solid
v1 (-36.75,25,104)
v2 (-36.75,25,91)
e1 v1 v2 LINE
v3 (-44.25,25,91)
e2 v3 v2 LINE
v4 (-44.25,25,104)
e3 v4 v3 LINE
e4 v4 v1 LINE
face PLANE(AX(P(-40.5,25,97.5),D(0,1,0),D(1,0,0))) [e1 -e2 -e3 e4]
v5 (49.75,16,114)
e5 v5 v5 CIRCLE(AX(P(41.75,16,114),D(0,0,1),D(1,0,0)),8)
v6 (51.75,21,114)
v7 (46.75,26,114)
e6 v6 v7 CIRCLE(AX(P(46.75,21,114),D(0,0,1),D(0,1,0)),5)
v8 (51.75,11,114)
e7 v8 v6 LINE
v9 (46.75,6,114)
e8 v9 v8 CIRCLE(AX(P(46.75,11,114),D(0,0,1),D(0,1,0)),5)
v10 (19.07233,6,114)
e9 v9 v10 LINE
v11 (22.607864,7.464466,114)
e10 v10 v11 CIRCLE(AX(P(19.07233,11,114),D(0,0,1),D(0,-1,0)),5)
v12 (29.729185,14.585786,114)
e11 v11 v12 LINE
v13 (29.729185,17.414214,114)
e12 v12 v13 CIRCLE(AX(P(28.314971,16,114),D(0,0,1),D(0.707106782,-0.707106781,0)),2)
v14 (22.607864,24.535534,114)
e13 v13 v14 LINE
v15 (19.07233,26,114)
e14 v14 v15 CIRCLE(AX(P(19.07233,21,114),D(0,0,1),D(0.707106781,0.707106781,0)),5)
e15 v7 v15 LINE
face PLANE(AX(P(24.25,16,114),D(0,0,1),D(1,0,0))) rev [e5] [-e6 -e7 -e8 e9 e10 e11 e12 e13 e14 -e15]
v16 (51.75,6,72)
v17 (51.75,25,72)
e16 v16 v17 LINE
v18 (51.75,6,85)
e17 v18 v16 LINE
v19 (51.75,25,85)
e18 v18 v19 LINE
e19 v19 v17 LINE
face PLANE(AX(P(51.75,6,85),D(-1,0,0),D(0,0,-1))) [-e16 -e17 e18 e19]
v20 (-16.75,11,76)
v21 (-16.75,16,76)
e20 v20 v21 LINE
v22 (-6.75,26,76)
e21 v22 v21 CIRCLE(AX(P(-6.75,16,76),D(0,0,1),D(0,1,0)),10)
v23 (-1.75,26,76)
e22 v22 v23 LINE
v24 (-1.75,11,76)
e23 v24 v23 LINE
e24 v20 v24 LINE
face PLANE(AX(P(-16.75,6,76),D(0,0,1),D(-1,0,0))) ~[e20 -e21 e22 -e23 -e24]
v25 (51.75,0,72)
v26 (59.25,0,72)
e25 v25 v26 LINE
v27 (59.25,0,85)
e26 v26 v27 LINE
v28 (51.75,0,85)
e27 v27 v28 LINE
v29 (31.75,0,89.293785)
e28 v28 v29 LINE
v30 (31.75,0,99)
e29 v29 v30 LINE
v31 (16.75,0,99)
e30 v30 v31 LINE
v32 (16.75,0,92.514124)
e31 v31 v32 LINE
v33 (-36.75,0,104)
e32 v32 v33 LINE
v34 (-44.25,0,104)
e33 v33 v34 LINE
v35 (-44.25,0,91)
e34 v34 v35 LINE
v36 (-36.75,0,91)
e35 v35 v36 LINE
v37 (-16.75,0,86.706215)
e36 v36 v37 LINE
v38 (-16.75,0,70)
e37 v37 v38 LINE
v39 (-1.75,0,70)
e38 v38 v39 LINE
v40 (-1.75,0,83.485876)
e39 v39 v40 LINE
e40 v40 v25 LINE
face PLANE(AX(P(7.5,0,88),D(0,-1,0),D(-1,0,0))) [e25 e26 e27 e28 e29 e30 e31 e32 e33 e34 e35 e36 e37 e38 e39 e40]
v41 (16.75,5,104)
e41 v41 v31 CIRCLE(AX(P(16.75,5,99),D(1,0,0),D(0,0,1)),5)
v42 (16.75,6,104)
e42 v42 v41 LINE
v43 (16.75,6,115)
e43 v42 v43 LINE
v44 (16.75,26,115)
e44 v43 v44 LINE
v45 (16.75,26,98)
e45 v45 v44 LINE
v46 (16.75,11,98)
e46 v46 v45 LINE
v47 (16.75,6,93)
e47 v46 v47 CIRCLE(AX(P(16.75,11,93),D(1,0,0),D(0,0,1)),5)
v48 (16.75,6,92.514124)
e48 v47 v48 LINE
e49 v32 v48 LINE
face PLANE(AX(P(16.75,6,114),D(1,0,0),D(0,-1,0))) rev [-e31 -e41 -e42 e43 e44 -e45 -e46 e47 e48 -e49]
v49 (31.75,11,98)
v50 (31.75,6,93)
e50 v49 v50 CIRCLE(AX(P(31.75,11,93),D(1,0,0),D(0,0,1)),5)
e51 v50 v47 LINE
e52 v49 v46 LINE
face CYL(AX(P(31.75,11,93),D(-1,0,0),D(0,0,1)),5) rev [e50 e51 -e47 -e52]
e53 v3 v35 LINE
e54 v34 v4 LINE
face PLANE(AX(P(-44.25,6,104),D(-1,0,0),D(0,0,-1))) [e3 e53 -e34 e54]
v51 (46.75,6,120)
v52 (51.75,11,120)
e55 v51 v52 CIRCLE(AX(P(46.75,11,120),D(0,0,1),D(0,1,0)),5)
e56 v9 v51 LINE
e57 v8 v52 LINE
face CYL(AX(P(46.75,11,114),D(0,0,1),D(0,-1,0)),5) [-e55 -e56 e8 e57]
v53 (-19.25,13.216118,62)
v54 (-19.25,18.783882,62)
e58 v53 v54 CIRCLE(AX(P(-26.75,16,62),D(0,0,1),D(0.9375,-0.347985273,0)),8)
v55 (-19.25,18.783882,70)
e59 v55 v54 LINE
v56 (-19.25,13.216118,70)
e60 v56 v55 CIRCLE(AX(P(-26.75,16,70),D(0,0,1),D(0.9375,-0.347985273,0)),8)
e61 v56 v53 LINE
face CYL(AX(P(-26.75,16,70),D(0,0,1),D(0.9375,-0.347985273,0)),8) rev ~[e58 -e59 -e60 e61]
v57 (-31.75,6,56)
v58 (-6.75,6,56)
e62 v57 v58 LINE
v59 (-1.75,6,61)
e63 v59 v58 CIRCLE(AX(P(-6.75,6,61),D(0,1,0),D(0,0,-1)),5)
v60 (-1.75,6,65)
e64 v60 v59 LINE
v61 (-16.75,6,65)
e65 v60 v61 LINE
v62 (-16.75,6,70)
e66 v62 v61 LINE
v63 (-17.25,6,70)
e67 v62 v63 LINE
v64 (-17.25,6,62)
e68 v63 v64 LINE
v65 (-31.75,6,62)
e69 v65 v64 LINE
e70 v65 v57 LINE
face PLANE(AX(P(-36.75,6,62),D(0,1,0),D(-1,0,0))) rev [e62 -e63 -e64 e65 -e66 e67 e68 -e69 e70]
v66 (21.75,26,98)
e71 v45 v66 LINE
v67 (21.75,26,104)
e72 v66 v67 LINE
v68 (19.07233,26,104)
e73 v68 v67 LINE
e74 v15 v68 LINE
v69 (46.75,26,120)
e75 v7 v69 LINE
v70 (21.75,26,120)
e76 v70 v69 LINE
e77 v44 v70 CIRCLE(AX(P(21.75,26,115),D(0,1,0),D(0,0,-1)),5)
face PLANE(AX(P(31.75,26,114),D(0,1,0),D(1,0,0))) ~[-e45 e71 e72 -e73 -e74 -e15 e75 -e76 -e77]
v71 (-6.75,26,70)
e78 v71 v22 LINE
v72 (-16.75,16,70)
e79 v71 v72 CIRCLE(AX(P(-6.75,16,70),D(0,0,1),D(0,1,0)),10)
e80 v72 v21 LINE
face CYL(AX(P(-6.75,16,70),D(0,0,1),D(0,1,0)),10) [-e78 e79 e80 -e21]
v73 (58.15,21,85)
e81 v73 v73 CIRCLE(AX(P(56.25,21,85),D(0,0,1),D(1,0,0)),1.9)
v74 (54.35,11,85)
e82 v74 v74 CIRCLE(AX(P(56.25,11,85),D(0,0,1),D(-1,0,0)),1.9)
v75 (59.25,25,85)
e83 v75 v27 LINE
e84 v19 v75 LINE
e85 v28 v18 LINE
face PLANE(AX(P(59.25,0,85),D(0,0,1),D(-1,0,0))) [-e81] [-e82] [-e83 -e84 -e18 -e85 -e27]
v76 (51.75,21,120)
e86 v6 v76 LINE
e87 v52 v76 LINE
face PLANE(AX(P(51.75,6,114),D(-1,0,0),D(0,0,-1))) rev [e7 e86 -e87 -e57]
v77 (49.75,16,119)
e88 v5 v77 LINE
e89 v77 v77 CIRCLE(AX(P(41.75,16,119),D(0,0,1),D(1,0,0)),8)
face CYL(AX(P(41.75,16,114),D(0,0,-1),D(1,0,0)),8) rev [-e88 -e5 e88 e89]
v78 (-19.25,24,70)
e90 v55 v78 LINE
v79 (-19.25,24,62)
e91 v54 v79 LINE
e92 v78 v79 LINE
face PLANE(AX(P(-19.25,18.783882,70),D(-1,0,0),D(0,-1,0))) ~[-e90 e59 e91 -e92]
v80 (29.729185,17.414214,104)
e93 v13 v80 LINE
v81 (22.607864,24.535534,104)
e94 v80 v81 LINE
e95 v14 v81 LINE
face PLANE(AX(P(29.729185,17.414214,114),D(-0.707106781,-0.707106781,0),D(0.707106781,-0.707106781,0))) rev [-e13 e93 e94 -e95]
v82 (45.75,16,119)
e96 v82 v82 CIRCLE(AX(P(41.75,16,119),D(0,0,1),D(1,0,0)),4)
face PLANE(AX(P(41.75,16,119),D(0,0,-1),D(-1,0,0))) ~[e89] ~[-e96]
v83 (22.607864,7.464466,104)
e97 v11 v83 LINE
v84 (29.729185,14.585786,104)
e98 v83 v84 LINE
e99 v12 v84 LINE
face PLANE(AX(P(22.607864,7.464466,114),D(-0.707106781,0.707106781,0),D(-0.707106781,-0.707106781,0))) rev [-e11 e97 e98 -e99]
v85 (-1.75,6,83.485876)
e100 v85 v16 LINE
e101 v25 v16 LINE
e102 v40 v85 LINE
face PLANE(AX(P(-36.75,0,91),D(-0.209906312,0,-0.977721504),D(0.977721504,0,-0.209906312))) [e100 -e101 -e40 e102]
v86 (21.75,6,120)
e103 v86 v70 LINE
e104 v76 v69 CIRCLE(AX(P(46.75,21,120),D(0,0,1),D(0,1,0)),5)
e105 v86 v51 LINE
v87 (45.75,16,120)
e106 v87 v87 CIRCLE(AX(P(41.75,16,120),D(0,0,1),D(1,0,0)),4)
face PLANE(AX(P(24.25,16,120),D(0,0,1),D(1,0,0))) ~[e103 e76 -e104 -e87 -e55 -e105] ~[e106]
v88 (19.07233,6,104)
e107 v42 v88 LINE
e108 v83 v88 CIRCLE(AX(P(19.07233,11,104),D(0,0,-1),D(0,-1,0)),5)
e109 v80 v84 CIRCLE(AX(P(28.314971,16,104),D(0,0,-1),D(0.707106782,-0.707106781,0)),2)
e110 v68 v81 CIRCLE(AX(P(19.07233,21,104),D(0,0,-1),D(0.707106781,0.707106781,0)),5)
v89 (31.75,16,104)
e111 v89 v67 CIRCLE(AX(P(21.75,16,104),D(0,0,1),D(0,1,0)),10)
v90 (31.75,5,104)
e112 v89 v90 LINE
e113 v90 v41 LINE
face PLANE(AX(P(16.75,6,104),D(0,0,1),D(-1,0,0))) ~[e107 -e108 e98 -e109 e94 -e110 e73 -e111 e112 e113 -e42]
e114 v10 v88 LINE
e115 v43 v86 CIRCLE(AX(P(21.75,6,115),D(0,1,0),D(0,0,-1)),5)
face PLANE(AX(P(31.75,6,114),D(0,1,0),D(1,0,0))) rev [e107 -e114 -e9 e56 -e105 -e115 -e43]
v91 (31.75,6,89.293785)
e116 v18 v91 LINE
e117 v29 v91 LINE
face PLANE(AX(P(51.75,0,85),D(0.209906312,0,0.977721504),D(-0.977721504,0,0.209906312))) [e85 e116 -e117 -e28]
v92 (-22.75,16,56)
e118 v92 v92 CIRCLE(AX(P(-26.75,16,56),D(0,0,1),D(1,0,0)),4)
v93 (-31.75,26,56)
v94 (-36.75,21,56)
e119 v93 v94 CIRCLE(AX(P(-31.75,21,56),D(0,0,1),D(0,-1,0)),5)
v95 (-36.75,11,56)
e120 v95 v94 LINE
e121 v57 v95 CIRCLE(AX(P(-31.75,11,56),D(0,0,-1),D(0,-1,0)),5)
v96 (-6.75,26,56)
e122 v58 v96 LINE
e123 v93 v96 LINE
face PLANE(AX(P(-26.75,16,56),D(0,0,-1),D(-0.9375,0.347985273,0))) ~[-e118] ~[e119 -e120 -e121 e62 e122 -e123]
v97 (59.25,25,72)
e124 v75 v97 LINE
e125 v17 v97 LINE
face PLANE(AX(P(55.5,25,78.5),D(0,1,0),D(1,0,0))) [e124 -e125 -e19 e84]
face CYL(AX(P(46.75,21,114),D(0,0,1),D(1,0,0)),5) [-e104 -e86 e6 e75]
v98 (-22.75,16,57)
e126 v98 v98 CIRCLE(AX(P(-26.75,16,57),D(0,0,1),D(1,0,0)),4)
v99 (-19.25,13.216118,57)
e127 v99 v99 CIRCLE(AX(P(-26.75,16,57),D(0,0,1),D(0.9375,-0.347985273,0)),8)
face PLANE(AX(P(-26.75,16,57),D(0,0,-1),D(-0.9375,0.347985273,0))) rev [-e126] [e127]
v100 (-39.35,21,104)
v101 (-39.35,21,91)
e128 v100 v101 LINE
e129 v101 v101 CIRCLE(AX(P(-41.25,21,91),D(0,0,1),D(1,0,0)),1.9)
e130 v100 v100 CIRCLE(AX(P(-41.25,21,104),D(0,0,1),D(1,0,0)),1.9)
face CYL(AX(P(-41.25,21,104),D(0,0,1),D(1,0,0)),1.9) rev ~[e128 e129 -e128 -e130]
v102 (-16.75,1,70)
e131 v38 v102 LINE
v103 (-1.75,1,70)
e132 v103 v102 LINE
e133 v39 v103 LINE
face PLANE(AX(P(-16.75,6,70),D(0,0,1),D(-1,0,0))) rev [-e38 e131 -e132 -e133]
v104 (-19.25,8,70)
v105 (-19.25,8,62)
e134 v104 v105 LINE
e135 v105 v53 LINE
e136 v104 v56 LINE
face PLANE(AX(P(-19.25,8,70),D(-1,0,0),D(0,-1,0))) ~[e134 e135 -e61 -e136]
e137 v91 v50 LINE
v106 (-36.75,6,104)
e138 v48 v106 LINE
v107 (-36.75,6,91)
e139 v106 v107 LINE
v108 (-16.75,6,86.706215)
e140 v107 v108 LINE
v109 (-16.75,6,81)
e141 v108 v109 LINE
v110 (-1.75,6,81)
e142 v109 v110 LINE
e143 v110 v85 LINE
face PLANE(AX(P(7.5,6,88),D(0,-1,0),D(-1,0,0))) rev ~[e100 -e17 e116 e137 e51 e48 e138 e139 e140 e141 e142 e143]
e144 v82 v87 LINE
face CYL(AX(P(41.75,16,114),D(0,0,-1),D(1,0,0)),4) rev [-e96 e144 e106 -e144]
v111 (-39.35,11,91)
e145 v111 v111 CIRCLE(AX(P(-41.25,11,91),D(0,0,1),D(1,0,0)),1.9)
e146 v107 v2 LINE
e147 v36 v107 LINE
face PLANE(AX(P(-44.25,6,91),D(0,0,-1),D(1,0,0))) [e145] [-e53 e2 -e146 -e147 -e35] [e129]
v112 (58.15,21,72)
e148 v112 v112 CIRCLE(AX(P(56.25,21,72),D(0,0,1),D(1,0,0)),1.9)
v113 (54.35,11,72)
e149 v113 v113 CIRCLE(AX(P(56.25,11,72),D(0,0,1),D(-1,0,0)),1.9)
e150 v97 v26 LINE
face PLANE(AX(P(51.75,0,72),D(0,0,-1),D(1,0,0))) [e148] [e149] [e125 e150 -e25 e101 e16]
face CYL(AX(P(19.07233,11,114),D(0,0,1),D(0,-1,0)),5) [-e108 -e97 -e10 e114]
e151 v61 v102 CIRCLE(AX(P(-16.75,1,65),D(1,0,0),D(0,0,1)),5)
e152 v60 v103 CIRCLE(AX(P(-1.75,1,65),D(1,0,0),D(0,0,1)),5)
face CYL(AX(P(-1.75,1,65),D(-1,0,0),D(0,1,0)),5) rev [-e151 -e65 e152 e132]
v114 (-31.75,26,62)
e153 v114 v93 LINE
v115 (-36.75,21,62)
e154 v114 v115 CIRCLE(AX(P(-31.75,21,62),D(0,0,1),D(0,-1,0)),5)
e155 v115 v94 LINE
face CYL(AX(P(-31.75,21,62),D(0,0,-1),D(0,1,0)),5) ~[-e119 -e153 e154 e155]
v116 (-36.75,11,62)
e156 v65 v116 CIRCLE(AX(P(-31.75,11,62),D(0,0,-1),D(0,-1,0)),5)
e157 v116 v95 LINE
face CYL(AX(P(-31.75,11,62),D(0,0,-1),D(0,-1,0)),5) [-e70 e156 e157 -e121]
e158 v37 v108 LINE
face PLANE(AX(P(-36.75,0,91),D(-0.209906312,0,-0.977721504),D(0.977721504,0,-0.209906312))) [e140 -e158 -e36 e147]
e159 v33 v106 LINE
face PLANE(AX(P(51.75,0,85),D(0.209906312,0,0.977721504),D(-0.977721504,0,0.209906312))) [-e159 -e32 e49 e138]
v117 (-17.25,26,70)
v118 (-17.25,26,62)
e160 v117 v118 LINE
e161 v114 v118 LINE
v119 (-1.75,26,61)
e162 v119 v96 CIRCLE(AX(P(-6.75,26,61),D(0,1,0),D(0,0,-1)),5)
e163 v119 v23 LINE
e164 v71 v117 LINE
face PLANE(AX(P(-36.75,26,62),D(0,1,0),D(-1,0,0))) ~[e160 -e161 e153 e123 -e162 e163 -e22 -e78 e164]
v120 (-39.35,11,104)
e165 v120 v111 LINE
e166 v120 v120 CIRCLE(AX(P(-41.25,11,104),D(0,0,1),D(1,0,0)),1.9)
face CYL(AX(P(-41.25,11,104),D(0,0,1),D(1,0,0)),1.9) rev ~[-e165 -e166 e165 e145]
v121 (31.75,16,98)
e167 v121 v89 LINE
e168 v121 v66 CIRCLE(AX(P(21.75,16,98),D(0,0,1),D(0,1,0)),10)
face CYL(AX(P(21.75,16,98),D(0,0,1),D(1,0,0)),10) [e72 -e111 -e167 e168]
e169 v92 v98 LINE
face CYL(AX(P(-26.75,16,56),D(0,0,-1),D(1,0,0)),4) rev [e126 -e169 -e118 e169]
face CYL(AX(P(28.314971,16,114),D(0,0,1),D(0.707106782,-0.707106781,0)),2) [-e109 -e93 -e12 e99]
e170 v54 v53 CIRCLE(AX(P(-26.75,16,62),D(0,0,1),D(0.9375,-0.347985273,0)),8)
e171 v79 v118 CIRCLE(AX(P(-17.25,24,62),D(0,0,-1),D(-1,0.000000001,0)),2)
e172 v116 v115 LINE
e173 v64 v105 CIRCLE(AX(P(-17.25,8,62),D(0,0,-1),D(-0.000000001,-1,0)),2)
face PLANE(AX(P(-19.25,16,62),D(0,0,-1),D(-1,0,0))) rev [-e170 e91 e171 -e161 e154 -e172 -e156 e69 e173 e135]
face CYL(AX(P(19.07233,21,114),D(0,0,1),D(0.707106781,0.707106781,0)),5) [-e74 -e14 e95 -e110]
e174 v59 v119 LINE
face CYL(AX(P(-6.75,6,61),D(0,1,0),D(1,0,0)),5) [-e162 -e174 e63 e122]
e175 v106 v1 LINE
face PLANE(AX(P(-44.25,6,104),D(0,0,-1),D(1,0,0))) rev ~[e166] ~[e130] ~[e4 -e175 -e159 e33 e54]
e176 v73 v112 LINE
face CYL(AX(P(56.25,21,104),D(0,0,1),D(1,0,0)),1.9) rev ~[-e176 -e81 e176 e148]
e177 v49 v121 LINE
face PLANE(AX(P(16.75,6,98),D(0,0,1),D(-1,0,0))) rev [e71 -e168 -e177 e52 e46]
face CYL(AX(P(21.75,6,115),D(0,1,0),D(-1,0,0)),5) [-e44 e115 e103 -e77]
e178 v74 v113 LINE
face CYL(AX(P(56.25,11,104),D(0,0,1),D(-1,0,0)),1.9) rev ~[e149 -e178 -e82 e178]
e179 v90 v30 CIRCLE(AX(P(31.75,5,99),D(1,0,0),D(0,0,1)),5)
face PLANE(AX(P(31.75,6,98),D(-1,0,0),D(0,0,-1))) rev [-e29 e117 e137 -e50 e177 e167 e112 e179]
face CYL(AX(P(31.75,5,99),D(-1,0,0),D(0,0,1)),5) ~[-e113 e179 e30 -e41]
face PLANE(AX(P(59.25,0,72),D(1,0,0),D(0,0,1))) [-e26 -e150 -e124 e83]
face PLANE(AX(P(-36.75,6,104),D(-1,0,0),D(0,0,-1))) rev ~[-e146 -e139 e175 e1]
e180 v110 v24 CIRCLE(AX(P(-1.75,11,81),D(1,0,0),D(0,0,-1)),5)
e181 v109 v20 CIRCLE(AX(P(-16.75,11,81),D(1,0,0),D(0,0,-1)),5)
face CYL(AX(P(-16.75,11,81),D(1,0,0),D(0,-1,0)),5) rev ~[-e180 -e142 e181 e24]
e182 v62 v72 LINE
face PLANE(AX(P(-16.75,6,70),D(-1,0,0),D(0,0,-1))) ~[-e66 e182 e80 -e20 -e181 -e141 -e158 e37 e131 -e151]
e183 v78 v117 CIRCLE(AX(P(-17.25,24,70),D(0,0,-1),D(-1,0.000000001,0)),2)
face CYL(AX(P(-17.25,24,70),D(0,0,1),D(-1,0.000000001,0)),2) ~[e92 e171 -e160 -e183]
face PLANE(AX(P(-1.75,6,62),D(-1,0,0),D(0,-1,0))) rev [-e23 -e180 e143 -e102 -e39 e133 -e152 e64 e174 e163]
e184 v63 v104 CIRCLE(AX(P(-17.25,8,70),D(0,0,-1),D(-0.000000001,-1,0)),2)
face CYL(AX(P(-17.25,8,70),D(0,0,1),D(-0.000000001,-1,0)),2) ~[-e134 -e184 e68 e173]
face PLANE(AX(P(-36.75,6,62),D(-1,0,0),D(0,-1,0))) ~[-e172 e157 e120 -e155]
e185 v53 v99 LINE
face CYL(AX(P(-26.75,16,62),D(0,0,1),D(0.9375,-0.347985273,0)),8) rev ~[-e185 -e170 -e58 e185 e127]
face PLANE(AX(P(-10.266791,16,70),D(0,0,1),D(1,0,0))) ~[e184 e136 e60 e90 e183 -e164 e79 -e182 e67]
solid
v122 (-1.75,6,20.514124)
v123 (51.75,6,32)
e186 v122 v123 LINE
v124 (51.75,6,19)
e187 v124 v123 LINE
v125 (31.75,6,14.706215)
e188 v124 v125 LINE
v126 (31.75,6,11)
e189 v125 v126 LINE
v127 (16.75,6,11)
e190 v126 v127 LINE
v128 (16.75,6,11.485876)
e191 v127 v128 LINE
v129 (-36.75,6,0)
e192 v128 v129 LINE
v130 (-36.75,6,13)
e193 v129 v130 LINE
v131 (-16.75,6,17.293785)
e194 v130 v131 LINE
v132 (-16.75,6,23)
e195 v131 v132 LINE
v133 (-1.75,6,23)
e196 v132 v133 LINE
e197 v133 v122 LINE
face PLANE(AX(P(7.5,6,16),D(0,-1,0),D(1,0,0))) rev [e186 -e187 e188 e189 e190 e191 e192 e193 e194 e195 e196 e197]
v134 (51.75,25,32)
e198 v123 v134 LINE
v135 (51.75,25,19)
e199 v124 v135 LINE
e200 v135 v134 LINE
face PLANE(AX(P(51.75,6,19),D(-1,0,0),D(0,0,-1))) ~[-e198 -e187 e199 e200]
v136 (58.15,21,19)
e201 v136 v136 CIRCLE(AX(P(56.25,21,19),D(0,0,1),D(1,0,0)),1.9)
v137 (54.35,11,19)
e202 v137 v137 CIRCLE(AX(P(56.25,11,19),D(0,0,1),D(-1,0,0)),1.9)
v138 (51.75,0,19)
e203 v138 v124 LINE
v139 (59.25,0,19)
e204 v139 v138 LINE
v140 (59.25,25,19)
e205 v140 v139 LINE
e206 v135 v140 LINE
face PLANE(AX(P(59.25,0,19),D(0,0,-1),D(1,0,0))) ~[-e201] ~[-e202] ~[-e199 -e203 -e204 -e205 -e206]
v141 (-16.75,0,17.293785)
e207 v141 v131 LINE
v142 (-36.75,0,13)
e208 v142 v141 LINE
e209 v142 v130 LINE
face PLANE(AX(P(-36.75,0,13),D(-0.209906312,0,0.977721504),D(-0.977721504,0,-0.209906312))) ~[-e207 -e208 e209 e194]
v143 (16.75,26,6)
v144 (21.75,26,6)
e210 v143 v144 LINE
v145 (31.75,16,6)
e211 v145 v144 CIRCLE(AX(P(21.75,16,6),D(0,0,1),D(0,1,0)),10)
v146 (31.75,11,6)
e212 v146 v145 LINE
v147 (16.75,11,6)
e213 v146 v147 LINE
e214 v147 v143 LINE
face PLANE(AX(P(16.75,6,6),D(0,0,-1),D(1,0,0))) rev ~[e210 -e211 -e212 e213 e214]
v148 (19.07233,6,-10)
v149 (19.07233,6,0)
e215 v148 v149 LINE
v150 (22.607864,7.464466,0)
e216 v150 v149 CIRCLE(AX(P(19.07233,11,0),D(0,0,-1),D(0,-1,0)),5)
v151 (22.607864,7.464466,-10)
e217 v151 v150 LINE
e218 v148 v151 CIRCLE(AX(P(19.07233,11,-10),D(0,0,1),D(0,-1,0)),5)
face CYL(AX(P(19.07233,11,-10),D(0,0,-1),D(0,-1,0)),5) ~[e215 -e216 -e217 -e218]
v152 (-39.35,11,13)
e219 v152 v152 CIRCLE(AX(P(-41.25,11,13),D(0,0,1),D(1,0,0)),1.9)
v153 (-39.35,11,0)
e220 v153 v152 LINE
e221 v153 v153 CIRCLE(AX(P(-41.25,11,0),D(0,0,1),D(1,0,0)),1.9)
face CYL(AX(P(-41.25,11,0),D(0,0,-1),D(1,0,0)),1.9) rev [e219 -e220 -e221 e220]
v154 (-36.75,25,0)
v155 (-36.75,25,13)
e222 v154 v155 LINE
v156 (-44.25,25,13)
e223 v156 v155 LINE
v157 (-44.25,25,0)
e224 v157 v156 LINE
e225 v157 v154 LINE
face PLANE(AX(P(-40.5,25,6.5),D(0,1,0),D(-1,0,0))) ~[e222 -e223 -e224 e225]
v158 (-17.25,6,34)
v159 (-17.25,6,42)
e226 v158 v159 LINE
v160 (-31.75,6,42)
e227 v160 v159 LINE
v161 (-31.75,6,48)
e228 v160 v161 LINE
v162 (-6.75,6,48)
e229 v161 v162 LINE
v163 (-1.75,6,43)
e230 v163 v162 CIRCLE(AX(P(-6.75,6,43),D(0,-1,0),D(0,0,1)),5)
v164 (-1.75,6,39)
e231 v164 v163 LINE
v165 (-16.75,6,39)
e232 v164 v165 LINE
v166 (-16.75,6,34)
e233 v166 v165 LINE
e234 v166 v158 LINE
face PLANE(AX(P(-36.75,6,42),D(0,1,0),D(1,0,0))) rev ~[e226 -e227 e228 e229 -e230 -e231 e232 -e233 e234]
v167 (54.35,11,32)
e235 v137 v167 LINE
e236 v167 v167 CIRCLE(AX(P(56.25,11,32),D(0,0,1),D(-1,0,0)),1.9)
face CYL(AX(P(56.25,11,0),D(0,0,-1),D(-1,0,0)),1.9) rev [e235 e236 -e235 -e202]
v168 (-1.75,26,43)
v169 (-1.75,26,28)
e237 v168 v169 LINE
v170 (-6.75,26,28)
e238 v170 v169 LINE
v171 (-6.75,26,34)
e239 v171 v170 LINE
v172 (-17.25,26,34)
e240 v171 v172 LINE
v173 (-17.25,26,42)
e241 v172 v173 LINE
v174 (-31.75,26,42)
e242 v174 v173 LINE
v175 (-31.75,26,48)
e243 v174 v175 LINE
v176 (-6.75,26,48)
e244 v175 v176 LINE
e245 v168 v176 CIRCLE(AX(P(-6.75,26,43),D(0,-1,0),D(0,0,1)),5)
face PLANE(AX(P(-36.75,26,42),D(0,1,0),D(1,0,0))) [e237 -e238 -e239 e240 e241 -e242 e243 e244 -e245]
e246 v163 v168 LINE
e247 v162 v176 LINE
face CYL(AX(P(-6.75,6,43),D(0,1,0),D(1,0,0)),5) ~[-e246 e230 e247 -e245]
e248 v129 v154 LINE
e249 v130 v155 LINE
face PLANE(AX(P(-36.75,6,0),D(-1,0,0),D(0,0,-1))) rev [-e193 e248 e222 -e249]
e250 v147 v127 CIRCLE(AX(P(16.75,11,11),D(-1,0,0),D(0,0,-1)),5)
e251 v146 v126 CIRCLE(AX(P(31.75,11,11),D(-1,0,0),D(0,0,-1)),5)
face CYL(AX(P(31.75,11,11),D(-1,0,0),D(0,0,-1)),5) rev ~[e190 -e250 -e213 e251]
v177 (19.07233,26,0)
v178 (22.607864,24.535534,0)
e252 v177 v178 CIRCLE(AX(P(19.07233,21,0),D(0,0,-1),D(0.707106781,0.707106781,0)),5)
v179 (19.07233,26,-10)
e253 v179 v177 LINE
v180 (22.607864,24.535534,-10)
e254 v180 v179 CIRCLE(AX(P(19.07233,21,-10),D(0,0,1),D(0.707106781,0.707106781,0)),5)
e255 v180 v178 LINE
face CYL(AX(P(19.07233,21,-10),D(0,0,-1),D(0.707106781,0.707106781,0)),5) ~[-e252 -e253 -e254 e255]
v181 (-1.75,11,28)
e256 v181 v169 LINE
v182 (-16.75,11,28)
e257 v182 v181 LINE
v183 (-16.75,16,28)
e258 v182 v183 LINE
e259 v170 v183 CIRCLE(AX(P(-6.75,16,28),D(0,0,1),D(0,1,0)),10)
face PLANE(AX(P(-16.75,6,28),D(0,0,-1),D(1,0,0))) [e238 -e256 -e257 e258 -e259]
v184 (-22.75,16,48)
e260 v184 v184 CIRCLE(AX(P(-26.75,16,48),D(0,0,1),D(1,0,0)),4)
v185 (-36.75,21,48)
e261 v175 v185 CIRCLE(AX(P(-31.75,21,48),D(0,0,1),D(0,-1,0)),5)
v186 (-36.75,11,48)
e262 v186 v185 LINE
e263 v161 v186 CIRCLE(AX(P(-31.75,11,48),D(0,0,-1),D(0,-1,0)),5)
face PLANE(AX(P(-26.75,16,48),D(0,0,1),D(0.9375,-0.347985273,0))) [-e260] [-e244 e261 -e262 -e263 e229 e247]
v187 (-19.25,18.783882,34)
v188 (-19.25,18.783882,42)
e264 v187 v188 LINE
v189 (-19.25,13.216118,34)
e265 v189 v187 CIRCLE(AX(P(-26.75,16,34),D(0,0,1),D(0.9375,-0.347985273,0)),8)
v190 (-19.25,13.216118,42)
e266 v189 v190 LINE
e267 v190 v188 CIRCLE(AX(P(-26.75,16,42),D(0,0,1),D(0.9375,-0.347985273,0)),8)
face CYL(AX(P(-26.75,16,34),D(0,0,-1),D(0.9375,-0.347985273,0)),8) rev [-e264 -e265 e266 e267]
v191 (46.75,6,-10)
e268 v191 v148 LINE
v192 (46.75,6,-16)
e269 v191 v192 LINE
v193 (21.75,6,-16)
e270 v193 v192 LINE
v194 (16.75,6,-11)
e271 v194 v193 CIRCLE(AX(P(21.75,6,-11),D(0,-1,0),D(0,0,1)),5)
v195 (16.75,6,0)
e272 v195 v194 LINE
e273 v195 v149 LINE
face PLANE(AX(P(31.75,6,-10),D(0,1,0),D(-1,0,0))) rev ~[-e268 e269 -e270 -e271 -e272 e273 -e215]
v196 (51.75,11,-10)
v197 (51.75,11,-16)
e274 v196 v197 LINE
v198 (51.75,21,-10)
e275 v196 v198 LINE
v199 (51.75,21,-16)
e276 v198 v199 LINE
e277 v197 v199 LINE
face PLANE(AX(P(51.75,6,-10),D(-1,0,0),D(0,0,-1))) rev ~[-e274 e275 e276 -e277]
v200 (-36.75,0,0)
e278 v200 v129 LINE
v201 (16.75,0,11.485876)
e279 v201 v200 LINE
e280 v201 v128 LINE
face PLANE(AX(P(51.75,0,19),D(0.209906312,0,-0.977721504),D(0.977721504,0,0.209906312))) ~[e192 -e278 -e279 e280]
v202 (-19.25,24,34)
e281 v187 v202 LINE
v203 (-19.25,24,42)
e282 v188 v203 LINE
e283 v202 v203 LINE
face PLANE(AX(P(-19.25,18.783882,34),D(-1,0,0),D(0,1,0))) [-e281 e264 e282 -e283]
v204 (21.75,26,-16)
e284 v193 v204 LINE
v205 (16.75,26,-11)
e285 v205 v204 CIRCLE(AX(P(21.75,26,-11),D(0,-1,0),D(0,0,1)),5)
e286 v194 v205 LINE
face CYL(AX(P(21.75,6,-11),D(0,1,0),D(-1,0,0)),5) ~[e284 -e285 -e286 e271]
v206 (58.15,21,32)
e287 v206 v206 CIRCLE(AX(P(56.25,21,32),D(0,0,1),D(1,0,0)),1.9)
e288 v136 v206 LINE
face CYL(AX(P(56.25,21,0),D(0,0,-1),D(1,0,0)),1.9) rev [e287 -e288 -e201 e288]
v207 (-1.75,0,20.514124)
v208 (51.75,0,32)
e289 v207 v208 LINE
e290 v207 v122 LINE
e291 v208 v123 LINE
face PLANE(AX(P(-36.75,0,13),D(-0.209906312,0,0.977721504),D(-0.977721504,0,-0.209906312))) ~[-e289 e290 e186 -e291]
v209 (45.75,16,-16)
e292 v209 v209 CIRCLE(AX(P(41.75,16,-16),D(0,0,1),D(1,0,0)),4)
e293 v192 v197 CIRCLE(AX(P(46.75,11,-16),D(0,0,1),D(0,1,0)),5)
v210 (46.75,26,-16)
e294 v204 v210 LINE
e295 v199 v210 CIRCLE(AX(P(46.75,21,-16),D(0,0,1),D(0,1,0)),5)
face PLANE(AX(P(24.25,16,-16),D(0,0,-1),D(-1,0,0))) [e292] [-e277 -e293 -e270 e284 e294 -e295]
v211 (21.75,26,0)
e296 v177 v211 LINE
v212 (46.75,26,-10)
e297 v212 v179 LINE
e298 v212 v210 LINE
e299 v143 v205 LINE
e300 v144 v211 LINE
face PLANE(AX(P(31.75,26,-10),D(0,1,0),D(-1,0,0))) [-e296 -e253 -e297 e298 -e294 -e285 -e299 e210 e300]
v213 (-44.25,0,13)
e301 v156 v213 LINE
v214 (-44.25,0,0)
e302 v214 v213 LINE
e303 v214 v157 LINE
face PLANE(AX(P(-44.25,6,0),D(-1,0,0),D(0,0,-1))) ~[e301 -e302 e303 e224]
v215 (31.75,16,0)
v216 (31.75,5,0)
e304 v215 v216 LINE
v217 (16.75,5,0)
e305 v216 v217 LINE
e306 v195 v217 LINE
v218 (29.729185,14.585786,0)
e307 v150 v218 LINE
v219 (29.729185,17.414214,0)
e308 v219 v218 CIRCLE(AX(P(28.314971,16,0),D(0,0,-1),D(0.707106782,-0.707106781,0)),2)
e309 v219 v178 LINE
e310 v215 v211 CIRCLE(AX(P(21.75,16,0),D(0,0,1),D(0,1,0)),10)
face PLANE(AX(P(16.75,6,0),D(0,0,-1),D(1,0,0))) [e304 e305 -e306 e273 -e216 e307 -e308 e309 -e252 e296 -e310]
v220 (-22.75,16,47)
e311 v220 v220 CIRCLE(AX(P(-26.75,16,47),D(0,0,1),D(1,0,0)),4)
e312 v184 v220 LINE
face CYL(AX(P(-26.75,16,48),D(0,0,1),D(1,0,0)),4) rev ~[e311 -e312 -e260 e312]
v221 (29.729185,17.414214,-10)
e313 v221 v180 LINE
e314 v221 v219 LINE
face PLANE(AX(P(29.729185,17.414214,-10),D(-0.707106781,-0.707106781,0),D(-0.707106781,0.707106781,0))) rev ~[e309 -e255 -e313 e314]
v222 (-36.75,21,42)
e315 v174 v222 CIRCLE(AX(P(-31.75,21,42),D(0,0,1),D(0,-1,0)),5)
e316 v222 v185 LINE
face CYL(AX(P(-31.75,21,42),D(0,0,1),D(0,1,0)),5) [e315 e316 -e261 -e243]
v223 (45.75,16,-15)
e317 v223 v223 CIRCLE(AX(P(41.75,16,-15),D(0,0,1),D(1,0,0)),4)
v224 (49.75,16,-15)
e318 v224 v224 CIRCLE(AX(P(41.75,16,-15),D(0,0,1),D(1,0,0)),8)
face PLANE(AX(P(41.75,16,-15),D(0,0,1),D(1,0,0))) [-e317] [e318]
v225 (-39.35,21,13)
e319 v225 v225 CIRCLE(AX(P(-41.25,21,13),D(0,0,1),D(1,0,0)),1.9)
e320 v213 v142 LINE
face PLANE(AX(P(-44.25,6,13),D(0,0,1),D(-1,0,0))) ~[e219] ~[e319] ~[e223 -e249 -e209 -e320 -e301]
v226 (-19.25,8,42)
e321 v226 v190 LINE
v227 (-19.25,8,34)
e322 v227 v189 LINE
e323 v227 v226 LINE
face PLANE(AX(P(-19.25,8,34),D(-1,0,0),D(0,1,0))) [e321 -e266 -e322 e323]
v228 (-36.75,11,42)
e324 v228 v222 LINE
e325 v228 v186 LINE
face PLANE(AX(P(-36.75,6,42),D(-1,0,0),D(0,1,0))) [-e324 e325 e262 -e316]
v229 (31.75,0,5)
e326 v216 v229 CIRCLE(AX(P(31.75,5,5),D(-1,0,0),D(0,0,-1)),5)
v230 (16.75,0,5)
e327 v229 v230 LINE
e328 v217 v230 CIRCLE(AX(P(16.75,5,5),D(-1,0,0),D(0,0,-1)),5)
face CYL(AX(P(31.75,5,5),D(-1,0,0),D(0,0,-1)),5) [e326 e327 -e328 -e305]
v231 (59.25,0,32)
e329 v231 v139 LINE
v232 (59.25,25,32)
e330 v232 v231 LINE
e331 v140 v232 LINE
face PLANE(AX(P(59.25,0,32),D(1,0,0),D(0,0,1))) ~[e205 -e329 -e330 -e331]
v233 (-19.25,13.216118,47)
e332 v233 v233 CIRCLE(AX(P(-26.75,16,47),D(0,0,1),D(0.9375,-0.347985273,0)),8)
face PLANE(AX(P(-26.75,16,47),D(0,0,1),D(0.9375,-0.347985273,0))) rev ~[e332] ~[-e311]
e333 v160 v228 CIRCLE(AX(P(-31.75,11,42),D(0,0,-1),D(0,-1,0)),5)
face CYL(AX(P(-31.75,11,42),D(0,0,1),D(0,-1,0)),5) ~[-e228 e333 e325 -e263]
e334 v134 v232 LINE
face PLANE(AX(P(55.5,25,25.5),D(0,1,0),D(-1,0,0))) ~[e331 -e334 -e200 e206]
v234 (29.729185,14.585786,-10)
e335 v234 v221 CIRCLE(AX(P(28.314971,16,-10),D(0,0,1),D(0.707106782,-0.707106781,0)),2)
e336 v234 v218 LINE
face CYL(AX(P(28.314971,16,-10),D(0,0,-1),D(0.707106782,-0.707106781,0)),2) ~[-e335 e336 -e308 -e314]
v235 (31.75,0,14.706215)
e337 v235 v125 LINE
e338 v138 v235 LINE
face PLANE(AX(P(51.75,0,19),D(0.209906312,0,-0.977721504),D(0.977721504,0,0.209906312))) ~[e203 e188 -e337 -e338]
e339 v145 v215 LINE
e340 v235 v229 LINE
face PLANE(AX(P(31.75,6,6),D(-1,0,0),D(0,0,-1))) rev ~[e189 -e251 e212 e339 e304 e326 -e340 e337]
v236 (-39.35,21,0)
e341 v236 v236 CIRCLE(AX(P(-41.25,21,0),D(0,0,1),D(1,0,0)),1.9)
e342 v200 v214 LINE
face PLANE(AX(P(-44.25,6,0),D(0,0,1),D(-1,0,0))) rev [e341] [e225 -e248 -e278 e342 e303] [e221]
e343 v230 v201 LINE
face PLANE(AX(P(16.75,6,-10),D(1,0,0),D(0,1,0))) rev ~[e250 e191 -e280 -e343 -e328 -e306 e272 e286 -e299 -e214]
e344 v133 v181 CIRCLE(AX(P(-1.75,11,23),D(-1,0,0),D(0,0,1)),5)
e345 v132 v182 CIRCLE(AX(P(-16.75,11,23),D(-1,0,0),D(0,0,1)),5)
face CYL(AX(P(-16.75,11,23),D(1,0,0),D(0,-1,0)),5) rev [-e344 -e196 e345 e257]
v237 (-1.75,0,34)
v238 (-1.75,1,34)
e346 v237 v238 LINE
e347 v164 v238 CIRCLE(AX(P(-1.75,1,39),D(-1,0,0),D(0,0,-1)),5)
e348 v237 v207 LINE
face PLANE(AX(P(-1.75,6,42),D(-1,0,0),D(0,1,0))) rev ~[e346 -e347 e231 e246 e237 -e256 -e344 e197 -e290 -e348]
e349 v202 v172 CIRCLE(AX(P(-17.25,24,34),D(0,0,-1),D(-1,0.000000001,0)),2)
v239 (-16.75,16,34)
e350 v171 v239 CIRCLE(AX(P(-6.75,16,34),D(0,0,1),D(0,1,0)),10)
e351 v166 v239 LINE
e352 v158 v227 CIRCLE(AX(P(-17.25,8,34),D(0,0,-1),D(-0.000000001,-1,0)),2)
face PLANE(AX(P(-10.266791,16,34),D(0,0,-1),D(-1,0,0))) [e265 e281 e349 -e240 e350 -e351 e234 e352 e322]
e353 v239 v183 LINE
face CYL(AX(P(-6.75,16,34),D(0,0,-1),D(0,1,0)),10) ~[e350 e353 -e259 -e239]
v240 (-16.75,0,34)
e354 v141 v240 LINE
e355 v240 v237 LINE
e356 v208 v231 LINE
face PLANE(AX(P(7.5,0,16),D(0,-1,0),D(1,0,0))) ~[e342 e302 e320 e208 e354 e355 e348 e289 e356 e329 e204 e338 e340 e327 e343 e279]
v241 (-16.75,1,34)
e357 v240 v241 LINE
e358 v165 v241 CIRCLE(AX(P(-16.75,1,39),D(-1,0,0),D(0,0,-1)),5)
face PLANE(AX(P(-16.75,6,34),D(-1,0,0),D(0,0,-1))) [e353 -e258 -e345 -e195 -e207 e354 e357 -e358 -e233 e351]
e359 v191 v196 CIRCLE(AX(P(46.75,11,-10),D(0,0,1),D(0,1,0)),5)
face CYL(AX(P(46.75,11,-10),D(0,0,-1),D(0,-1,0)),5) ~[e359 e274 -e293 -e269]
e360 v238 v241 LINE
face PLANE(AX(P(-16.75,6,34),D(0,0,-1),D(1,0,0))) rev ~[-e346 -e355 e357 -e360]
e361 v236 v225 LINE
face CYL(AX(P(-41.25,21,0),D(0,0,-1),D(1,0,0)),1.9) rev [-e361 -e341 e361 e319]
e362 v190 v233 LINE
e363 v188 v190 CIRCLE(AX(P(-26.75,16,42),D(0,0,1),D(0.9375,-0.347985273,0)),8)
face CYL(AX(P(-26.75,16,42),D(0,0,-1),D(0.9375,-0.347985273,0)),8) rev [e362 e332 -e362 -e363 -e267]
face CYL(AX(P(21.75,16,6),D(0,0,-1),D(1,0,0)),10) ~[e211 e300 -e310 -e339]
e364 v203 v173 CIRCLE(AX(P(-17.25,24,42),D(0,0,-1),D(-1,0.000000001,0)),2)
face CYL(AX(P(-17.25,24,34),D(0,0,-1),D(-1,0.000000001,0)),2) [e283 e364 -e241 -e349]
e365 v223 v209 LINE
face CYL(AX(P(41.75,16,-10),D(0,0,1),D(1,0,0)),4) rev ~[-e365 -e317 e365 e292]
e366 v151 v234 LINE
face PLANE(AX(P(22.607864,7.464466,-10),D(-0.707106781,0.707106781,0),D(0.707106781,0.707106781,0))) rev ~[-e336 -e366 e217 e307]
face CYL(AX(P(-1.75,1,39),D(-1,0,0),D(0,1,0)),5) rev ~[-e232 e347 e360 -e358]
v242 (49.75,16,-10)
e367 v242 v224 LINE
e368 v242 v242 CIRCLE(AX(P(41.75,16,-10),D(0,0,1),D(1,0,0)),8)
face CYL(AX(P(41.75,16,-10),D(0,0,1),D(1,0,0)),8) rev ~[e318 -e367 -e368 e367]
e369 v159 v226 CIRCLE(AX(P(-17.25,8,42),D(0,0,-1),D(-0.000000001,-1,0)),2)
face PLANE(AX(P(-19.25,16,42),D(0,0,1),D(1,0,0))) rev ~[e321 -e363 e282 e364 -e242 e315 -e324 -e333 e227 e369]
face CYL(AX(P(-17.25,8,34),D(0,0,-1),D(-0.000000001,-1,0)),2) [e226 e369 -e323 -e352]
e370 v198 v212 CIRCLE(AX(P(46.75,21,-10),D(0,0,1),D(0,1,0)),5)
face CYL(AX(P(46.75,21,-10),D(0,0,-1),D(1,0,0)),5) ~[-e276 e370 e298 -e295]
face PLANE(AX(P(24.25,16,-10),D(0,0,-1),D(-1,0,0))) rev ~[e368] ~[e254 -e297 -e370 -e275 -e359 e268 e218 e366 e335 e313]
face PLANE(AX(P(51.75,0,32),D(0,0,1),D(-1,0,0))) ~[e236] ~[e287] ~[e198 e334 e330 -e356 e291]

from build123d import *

# Parameters (mm, degrees)
BOSS_EXTRUDE1_DEPTH  = 6
SKETCH3_W            = 7.5
SKETCH3_H            = 13
BOSS_EXTRUDE2_DEPTH  = 19
SKETCH4_R            = 1.9
CUT_EXTRUDE1_DEPTH   = 72.830094668
BOSS_EXTRUDE3_DEPTH  = 6
SKETCH7_W            = 15
SKETCH7_H            = 6
BOSS_EXTRUDE4_DEPTH  = 20
SKETCH9_W            = 20
SKETCH9_H            = 6
BOSS_EXTRUDE5_DEPTH  = 20
SKETCH10_R           = 8
SKETCH10_R_2         = 4
CUT_EXTRUDE2_DEPTH   = 5
SKETCH10_2_R         = 4
CUT_EXTRUDE3_DEPTH   = 15
BOSS_EXTRUDE6_DEPTH  = 16
SKETCH12_W           = 15
SKETCH12_H           = 20
BOSS_EXTRUDE7_DEPTH  = 6
BOSS_EXTRUDE8_DEPTH  = 6
SKETCH14_W           = 15
SKETCH14_H           = 6
BOSS_EXTRUDE9_DEPTH  = 20
BOSS_EXTRUDE10_DEPTH = 8
SKETCH16_W           = 35
SKETCH16_H           = 20
SKETCH16_R           = 8
BOSS_EXTRUDE11_DEPTH = 6
SKETCH18_R           = 8
SKETCH18_R_2         = 4
BOSS_EXTRUDE12_DEPTH = 1
FILLET1_R            = 10
FILLET2_R            = 5


with BuildPart() as part:
    # Sketch2 → Boss-Extrude1 (new body)
    with BuildSketch(Plane(origin=(0, 0, 0), x_dir=(1, 0, 0), z_dir=(0, 1, 0))):
        Polygon((-36.75, 13), (51.75, 32), (59.25, 32), (59.25, 19), (51.75, 19), (-36.75, 0), (-44.25, 0), (-44.25, 13), align=None)
    extrude(amount=BOSS_EXTRUDE1_DEPTH)

    # Sketch3 → Boss-Extrude2 (add)
    with BuildSketch(Plane(origin=(0, 6, 0), x_dir=(1, 0, 0), z_dir=(0, 1, 0))):
        with Locations((-40.5, 6.5)):
            Rectangle(SKETCH3_W, SKETCH3_H)
        with Locations((55.5, 25.5)):
            Rectangle(SKETCH3_W, SKETCH3_H)
    extrude(amount=BOSS_EXTRUDE2_DEPTH)

    # Sketch4 → Cut-Extrude1 (cut, through all)
    with BuildSketch(Plane.XY):
        with Locations((-41.25, 21)):
            Circle(SKETCH4_R)
        with Locations((-41.25, 11)):
            Circle(SKETCH4_R)
        with Locations((56.25, 21)):
            Circle(SKETCH4_R)
        with Locations(Location((56.25, 11, 0), (0, 0, 180))):
            Circle(SKETCH4_R)
    extrude(amount=-CUT_EXTRUDE1_DEPTH, mode=Mode.SUBTRACT)


with BuildPart() as body_2:
    # Mirror1: mirrored copy
    add(part.part.mirror(Plane.XY))

    # Sketch5 → Boss-Extrude3 (add)
    with BuildSketch(Plane(origin=(0, 0, 0), x_dir=(1, 0, 0), z_dir=(0, 1, 0))):
        Polygon((16.75, -11.485875706), (31.75, -14.706214689), (31.75, 0), (16.75, 0), align=None)
    extrude(amount=BOSS_EXTRUDE3_DEPTH)

    # Sketch7 → Boss-Extrude4 (add)
    with BuildSketch(Plane(origin=(0, 6, 0), x_dir=(1, 0, 0), z_dir=(0, 1, 0))):
        with Locations((24.25, -3)):
            Rectangle(SKETCH7_W, SKETCH7_H)
    extrude(amount=BOSS_EXTRUDE4_DEPTH)

    # Sketch11 → Boss-Extrude6 (add)
    with BuildSketch(Plane.XY.offset(-10)):
        with BuildLine():
            Line((22.607864376, 7.464466094), (29.72918472, 14.585786438))
            ThreePointArc((29.72918472, 14.585786438), (30.314971157, 16), (29.72918472, 17.414213562))
            Line((29.72918472, 17.414213562), (22.607864376, 24.535533906))
            ThreePointArc((22.607864376, 24.535533906), (20.985747632, 25.619397663), (19.07233047, 26))
            Line((19.07233047, 26), (16.75, 26))
            Line((16.75, 26), (16.75, 6))
            Line((16.75, 6), (19.07233047, 6))
            ThreePointArc((19.07233047, 6), (20.985747632, 6.380602337), (22.607864376, 7.464466094))
        make_face()
    extrude(amount=BOSS_EXTRUDE6_DEPTH)



with BuildPart() as body_2_2:
    # Sketch9 → Boss-Extrude5 (new body)
    with BuildSketch(Plane(origin=(0, 6, 0), x_dir=(1, 0, 0), z_dir=(0, 1, 0))):
        with Locations((41.75, 13)):
            Rectangle(SKETCH9_W, SKETCH9_H)
    extrude(amount=BOSS_EXTRUDE5_DEPTH)

    # Sketch10 → Cut-Extrude2 (cut)
    with BuildSketch(Plane.XY.offset(-10)):
        with Locations((41.75, 16)):
            Circle(SKETCH10_R)
        with Locations((41.75, 16)):
            Circle(SKETCH10_R_2, mode=Mode.SUBTRACT)
    extrude(amount=-CUT_EXTRUDE2_DEPTH, mode=Mode.SUBTRACT)

    # Sketch10<2> → Cut-Extrude3 (cut)
    with BuildSketch(Plane.XY.offset(-10)):
        with Locations((41.75, 16)):
            Circle(SKETCH10_2_R)
    extrude(amount=-CUT_EXTRUDE3_DEPTH, mode=Mode.SUBTRACT)


with BuildPart() as body_2_1:
    add(body_2.part)

    add(body_2_2.part)  # Boss-Extrude7 merges body 2 2
    # Sketch12 → Boss-Extrude7 (add)
    with BuildSketch(Plane(origin=(0, 0, -10), x_dir=(-1, 0, 0), z_dir=(0, 0, -1))):
        with Locations((-24.25, 16)):
            Rectangle(SKETCH12_W, SKETCH12_H)
    extrude(amount=BOSS_EXTRUDE7_DEPTH)

    # Sketch13 → Boss-Extrude8 (add)
    with BuildSketch(Plane(origin=(0, 0, 0), x_dir=(1, 0, 0), z_dir=(0, 1, 0))):
        Polygon((-1.75, -20.514124294), (-16.75, -17.293785311), (-16.75, -34), (-1.75, -34), align=None)
    extrude(amount=BOSS_EXTRUDE8_DEPTH)

    # Sketch14 → Boss-Extrude9 (add)
    with BuildSketch(Plane(origin=(0, 6, 0), x_dir=(1, 0, 0), z_dir=(0, 1, 0))):
        with Locations((-9.25, -31)):
            Rectangle(SKETCH14_W, SKETCH14_H)
    extrude(amount=BOSS_EXTRUDE9_DEPTH)

    # Sketch15 → Boss-Extrude10 (add)
    with BuildSketch(Plane.XY.offset(34)):
        with BuildLine():
            Line((-19.25, 8), (-19.25, 13.216117819))
            ThreePointArc((-19.25, 13.216117819), (-18.75, 16), (-19.25, 18.783882181))
            Line((-19.25, 18.783882181), (-19.25, 24))
            ThreePointArc((-19.25, 24), (-18.664213562, 25.414213562), (-17.25, 26))
            Line((-17.25, 26), (-1.75, 26))
            Line((-1.75, 26), (-1.75, 6))
            Line((-1.75, 6), (-17.25, 6))
            ThreePointArc((-17.25, 6), (-18.664213562, 6.585786438), (-19.25, 8))
        make_face()
    extrude(amount=BOSS_EXTRUDE10_DEPTH)

    # Sketch16 → Boss-Extrude11 (add)
    with BuildSketch(Plane.XY.offset(42)):
        with Locations((-19.25, 16)):
            Rectangle(SKETCH16_W, SKETCH16_H)
        with Locations(Location((-26.75, 16, 0), (0, 0, 339.635865194))):
            Circle(SKETCH16_R, mode=Mode.SUBTRACT)
    extrude(amount=BOSS_EXTRUDE11_DEPTH)

    # Sketch18 → Boss-Extrude12 (add)
    with BuildSketch(Plane.XY.offset(48)):
        with Locations(Location((-26.75, 16, 0), (0, 0, 339.635865194))):
            Circle(SKETCH18_R)
        with Locations((-26.75, 16)):
            Circle(SKETCH18_R_2, mode=Mode.SUBTRACT)
    extrude(amount=-BOSS_EXTRUDE12_DEPTH)

    # Fillet1
    fillet1_edges = [body_2_1.edges().sort_by_distance(p)[0] for p in [
        (-16.75, 26, 31),
        (31.75, 26, 3),
    ]]
    fillet(fillet1_edges, radius=FILLET1_R)

    # Fillet2
    fillet2_edges = [body_2_1.edges().sort_by_distance(p)[0] for p in [
        (-9.25, 6, 28),
        (-9.25, 6, 34),
        (51.75, 26, -13),
        (-1.75, 16, 48),
        (-36.75, 26, 45),
        (-36.75, 6, 45),
        (16.75, 16, -16),
        (24.25, 0, 0),
        (24.25, 6, 6),
        (51.75, 6, -13),
    ]]
    fillet(fillet2_edges, radius=FILLET2_R)


with BuildPart() as body_2_3:
    # Mirror3: mirrored copy
    add(body_2_1.part.mirror(Plane.XY.offset(52)))


solid = Compound([body_2_1.part, body_2_3.part])
